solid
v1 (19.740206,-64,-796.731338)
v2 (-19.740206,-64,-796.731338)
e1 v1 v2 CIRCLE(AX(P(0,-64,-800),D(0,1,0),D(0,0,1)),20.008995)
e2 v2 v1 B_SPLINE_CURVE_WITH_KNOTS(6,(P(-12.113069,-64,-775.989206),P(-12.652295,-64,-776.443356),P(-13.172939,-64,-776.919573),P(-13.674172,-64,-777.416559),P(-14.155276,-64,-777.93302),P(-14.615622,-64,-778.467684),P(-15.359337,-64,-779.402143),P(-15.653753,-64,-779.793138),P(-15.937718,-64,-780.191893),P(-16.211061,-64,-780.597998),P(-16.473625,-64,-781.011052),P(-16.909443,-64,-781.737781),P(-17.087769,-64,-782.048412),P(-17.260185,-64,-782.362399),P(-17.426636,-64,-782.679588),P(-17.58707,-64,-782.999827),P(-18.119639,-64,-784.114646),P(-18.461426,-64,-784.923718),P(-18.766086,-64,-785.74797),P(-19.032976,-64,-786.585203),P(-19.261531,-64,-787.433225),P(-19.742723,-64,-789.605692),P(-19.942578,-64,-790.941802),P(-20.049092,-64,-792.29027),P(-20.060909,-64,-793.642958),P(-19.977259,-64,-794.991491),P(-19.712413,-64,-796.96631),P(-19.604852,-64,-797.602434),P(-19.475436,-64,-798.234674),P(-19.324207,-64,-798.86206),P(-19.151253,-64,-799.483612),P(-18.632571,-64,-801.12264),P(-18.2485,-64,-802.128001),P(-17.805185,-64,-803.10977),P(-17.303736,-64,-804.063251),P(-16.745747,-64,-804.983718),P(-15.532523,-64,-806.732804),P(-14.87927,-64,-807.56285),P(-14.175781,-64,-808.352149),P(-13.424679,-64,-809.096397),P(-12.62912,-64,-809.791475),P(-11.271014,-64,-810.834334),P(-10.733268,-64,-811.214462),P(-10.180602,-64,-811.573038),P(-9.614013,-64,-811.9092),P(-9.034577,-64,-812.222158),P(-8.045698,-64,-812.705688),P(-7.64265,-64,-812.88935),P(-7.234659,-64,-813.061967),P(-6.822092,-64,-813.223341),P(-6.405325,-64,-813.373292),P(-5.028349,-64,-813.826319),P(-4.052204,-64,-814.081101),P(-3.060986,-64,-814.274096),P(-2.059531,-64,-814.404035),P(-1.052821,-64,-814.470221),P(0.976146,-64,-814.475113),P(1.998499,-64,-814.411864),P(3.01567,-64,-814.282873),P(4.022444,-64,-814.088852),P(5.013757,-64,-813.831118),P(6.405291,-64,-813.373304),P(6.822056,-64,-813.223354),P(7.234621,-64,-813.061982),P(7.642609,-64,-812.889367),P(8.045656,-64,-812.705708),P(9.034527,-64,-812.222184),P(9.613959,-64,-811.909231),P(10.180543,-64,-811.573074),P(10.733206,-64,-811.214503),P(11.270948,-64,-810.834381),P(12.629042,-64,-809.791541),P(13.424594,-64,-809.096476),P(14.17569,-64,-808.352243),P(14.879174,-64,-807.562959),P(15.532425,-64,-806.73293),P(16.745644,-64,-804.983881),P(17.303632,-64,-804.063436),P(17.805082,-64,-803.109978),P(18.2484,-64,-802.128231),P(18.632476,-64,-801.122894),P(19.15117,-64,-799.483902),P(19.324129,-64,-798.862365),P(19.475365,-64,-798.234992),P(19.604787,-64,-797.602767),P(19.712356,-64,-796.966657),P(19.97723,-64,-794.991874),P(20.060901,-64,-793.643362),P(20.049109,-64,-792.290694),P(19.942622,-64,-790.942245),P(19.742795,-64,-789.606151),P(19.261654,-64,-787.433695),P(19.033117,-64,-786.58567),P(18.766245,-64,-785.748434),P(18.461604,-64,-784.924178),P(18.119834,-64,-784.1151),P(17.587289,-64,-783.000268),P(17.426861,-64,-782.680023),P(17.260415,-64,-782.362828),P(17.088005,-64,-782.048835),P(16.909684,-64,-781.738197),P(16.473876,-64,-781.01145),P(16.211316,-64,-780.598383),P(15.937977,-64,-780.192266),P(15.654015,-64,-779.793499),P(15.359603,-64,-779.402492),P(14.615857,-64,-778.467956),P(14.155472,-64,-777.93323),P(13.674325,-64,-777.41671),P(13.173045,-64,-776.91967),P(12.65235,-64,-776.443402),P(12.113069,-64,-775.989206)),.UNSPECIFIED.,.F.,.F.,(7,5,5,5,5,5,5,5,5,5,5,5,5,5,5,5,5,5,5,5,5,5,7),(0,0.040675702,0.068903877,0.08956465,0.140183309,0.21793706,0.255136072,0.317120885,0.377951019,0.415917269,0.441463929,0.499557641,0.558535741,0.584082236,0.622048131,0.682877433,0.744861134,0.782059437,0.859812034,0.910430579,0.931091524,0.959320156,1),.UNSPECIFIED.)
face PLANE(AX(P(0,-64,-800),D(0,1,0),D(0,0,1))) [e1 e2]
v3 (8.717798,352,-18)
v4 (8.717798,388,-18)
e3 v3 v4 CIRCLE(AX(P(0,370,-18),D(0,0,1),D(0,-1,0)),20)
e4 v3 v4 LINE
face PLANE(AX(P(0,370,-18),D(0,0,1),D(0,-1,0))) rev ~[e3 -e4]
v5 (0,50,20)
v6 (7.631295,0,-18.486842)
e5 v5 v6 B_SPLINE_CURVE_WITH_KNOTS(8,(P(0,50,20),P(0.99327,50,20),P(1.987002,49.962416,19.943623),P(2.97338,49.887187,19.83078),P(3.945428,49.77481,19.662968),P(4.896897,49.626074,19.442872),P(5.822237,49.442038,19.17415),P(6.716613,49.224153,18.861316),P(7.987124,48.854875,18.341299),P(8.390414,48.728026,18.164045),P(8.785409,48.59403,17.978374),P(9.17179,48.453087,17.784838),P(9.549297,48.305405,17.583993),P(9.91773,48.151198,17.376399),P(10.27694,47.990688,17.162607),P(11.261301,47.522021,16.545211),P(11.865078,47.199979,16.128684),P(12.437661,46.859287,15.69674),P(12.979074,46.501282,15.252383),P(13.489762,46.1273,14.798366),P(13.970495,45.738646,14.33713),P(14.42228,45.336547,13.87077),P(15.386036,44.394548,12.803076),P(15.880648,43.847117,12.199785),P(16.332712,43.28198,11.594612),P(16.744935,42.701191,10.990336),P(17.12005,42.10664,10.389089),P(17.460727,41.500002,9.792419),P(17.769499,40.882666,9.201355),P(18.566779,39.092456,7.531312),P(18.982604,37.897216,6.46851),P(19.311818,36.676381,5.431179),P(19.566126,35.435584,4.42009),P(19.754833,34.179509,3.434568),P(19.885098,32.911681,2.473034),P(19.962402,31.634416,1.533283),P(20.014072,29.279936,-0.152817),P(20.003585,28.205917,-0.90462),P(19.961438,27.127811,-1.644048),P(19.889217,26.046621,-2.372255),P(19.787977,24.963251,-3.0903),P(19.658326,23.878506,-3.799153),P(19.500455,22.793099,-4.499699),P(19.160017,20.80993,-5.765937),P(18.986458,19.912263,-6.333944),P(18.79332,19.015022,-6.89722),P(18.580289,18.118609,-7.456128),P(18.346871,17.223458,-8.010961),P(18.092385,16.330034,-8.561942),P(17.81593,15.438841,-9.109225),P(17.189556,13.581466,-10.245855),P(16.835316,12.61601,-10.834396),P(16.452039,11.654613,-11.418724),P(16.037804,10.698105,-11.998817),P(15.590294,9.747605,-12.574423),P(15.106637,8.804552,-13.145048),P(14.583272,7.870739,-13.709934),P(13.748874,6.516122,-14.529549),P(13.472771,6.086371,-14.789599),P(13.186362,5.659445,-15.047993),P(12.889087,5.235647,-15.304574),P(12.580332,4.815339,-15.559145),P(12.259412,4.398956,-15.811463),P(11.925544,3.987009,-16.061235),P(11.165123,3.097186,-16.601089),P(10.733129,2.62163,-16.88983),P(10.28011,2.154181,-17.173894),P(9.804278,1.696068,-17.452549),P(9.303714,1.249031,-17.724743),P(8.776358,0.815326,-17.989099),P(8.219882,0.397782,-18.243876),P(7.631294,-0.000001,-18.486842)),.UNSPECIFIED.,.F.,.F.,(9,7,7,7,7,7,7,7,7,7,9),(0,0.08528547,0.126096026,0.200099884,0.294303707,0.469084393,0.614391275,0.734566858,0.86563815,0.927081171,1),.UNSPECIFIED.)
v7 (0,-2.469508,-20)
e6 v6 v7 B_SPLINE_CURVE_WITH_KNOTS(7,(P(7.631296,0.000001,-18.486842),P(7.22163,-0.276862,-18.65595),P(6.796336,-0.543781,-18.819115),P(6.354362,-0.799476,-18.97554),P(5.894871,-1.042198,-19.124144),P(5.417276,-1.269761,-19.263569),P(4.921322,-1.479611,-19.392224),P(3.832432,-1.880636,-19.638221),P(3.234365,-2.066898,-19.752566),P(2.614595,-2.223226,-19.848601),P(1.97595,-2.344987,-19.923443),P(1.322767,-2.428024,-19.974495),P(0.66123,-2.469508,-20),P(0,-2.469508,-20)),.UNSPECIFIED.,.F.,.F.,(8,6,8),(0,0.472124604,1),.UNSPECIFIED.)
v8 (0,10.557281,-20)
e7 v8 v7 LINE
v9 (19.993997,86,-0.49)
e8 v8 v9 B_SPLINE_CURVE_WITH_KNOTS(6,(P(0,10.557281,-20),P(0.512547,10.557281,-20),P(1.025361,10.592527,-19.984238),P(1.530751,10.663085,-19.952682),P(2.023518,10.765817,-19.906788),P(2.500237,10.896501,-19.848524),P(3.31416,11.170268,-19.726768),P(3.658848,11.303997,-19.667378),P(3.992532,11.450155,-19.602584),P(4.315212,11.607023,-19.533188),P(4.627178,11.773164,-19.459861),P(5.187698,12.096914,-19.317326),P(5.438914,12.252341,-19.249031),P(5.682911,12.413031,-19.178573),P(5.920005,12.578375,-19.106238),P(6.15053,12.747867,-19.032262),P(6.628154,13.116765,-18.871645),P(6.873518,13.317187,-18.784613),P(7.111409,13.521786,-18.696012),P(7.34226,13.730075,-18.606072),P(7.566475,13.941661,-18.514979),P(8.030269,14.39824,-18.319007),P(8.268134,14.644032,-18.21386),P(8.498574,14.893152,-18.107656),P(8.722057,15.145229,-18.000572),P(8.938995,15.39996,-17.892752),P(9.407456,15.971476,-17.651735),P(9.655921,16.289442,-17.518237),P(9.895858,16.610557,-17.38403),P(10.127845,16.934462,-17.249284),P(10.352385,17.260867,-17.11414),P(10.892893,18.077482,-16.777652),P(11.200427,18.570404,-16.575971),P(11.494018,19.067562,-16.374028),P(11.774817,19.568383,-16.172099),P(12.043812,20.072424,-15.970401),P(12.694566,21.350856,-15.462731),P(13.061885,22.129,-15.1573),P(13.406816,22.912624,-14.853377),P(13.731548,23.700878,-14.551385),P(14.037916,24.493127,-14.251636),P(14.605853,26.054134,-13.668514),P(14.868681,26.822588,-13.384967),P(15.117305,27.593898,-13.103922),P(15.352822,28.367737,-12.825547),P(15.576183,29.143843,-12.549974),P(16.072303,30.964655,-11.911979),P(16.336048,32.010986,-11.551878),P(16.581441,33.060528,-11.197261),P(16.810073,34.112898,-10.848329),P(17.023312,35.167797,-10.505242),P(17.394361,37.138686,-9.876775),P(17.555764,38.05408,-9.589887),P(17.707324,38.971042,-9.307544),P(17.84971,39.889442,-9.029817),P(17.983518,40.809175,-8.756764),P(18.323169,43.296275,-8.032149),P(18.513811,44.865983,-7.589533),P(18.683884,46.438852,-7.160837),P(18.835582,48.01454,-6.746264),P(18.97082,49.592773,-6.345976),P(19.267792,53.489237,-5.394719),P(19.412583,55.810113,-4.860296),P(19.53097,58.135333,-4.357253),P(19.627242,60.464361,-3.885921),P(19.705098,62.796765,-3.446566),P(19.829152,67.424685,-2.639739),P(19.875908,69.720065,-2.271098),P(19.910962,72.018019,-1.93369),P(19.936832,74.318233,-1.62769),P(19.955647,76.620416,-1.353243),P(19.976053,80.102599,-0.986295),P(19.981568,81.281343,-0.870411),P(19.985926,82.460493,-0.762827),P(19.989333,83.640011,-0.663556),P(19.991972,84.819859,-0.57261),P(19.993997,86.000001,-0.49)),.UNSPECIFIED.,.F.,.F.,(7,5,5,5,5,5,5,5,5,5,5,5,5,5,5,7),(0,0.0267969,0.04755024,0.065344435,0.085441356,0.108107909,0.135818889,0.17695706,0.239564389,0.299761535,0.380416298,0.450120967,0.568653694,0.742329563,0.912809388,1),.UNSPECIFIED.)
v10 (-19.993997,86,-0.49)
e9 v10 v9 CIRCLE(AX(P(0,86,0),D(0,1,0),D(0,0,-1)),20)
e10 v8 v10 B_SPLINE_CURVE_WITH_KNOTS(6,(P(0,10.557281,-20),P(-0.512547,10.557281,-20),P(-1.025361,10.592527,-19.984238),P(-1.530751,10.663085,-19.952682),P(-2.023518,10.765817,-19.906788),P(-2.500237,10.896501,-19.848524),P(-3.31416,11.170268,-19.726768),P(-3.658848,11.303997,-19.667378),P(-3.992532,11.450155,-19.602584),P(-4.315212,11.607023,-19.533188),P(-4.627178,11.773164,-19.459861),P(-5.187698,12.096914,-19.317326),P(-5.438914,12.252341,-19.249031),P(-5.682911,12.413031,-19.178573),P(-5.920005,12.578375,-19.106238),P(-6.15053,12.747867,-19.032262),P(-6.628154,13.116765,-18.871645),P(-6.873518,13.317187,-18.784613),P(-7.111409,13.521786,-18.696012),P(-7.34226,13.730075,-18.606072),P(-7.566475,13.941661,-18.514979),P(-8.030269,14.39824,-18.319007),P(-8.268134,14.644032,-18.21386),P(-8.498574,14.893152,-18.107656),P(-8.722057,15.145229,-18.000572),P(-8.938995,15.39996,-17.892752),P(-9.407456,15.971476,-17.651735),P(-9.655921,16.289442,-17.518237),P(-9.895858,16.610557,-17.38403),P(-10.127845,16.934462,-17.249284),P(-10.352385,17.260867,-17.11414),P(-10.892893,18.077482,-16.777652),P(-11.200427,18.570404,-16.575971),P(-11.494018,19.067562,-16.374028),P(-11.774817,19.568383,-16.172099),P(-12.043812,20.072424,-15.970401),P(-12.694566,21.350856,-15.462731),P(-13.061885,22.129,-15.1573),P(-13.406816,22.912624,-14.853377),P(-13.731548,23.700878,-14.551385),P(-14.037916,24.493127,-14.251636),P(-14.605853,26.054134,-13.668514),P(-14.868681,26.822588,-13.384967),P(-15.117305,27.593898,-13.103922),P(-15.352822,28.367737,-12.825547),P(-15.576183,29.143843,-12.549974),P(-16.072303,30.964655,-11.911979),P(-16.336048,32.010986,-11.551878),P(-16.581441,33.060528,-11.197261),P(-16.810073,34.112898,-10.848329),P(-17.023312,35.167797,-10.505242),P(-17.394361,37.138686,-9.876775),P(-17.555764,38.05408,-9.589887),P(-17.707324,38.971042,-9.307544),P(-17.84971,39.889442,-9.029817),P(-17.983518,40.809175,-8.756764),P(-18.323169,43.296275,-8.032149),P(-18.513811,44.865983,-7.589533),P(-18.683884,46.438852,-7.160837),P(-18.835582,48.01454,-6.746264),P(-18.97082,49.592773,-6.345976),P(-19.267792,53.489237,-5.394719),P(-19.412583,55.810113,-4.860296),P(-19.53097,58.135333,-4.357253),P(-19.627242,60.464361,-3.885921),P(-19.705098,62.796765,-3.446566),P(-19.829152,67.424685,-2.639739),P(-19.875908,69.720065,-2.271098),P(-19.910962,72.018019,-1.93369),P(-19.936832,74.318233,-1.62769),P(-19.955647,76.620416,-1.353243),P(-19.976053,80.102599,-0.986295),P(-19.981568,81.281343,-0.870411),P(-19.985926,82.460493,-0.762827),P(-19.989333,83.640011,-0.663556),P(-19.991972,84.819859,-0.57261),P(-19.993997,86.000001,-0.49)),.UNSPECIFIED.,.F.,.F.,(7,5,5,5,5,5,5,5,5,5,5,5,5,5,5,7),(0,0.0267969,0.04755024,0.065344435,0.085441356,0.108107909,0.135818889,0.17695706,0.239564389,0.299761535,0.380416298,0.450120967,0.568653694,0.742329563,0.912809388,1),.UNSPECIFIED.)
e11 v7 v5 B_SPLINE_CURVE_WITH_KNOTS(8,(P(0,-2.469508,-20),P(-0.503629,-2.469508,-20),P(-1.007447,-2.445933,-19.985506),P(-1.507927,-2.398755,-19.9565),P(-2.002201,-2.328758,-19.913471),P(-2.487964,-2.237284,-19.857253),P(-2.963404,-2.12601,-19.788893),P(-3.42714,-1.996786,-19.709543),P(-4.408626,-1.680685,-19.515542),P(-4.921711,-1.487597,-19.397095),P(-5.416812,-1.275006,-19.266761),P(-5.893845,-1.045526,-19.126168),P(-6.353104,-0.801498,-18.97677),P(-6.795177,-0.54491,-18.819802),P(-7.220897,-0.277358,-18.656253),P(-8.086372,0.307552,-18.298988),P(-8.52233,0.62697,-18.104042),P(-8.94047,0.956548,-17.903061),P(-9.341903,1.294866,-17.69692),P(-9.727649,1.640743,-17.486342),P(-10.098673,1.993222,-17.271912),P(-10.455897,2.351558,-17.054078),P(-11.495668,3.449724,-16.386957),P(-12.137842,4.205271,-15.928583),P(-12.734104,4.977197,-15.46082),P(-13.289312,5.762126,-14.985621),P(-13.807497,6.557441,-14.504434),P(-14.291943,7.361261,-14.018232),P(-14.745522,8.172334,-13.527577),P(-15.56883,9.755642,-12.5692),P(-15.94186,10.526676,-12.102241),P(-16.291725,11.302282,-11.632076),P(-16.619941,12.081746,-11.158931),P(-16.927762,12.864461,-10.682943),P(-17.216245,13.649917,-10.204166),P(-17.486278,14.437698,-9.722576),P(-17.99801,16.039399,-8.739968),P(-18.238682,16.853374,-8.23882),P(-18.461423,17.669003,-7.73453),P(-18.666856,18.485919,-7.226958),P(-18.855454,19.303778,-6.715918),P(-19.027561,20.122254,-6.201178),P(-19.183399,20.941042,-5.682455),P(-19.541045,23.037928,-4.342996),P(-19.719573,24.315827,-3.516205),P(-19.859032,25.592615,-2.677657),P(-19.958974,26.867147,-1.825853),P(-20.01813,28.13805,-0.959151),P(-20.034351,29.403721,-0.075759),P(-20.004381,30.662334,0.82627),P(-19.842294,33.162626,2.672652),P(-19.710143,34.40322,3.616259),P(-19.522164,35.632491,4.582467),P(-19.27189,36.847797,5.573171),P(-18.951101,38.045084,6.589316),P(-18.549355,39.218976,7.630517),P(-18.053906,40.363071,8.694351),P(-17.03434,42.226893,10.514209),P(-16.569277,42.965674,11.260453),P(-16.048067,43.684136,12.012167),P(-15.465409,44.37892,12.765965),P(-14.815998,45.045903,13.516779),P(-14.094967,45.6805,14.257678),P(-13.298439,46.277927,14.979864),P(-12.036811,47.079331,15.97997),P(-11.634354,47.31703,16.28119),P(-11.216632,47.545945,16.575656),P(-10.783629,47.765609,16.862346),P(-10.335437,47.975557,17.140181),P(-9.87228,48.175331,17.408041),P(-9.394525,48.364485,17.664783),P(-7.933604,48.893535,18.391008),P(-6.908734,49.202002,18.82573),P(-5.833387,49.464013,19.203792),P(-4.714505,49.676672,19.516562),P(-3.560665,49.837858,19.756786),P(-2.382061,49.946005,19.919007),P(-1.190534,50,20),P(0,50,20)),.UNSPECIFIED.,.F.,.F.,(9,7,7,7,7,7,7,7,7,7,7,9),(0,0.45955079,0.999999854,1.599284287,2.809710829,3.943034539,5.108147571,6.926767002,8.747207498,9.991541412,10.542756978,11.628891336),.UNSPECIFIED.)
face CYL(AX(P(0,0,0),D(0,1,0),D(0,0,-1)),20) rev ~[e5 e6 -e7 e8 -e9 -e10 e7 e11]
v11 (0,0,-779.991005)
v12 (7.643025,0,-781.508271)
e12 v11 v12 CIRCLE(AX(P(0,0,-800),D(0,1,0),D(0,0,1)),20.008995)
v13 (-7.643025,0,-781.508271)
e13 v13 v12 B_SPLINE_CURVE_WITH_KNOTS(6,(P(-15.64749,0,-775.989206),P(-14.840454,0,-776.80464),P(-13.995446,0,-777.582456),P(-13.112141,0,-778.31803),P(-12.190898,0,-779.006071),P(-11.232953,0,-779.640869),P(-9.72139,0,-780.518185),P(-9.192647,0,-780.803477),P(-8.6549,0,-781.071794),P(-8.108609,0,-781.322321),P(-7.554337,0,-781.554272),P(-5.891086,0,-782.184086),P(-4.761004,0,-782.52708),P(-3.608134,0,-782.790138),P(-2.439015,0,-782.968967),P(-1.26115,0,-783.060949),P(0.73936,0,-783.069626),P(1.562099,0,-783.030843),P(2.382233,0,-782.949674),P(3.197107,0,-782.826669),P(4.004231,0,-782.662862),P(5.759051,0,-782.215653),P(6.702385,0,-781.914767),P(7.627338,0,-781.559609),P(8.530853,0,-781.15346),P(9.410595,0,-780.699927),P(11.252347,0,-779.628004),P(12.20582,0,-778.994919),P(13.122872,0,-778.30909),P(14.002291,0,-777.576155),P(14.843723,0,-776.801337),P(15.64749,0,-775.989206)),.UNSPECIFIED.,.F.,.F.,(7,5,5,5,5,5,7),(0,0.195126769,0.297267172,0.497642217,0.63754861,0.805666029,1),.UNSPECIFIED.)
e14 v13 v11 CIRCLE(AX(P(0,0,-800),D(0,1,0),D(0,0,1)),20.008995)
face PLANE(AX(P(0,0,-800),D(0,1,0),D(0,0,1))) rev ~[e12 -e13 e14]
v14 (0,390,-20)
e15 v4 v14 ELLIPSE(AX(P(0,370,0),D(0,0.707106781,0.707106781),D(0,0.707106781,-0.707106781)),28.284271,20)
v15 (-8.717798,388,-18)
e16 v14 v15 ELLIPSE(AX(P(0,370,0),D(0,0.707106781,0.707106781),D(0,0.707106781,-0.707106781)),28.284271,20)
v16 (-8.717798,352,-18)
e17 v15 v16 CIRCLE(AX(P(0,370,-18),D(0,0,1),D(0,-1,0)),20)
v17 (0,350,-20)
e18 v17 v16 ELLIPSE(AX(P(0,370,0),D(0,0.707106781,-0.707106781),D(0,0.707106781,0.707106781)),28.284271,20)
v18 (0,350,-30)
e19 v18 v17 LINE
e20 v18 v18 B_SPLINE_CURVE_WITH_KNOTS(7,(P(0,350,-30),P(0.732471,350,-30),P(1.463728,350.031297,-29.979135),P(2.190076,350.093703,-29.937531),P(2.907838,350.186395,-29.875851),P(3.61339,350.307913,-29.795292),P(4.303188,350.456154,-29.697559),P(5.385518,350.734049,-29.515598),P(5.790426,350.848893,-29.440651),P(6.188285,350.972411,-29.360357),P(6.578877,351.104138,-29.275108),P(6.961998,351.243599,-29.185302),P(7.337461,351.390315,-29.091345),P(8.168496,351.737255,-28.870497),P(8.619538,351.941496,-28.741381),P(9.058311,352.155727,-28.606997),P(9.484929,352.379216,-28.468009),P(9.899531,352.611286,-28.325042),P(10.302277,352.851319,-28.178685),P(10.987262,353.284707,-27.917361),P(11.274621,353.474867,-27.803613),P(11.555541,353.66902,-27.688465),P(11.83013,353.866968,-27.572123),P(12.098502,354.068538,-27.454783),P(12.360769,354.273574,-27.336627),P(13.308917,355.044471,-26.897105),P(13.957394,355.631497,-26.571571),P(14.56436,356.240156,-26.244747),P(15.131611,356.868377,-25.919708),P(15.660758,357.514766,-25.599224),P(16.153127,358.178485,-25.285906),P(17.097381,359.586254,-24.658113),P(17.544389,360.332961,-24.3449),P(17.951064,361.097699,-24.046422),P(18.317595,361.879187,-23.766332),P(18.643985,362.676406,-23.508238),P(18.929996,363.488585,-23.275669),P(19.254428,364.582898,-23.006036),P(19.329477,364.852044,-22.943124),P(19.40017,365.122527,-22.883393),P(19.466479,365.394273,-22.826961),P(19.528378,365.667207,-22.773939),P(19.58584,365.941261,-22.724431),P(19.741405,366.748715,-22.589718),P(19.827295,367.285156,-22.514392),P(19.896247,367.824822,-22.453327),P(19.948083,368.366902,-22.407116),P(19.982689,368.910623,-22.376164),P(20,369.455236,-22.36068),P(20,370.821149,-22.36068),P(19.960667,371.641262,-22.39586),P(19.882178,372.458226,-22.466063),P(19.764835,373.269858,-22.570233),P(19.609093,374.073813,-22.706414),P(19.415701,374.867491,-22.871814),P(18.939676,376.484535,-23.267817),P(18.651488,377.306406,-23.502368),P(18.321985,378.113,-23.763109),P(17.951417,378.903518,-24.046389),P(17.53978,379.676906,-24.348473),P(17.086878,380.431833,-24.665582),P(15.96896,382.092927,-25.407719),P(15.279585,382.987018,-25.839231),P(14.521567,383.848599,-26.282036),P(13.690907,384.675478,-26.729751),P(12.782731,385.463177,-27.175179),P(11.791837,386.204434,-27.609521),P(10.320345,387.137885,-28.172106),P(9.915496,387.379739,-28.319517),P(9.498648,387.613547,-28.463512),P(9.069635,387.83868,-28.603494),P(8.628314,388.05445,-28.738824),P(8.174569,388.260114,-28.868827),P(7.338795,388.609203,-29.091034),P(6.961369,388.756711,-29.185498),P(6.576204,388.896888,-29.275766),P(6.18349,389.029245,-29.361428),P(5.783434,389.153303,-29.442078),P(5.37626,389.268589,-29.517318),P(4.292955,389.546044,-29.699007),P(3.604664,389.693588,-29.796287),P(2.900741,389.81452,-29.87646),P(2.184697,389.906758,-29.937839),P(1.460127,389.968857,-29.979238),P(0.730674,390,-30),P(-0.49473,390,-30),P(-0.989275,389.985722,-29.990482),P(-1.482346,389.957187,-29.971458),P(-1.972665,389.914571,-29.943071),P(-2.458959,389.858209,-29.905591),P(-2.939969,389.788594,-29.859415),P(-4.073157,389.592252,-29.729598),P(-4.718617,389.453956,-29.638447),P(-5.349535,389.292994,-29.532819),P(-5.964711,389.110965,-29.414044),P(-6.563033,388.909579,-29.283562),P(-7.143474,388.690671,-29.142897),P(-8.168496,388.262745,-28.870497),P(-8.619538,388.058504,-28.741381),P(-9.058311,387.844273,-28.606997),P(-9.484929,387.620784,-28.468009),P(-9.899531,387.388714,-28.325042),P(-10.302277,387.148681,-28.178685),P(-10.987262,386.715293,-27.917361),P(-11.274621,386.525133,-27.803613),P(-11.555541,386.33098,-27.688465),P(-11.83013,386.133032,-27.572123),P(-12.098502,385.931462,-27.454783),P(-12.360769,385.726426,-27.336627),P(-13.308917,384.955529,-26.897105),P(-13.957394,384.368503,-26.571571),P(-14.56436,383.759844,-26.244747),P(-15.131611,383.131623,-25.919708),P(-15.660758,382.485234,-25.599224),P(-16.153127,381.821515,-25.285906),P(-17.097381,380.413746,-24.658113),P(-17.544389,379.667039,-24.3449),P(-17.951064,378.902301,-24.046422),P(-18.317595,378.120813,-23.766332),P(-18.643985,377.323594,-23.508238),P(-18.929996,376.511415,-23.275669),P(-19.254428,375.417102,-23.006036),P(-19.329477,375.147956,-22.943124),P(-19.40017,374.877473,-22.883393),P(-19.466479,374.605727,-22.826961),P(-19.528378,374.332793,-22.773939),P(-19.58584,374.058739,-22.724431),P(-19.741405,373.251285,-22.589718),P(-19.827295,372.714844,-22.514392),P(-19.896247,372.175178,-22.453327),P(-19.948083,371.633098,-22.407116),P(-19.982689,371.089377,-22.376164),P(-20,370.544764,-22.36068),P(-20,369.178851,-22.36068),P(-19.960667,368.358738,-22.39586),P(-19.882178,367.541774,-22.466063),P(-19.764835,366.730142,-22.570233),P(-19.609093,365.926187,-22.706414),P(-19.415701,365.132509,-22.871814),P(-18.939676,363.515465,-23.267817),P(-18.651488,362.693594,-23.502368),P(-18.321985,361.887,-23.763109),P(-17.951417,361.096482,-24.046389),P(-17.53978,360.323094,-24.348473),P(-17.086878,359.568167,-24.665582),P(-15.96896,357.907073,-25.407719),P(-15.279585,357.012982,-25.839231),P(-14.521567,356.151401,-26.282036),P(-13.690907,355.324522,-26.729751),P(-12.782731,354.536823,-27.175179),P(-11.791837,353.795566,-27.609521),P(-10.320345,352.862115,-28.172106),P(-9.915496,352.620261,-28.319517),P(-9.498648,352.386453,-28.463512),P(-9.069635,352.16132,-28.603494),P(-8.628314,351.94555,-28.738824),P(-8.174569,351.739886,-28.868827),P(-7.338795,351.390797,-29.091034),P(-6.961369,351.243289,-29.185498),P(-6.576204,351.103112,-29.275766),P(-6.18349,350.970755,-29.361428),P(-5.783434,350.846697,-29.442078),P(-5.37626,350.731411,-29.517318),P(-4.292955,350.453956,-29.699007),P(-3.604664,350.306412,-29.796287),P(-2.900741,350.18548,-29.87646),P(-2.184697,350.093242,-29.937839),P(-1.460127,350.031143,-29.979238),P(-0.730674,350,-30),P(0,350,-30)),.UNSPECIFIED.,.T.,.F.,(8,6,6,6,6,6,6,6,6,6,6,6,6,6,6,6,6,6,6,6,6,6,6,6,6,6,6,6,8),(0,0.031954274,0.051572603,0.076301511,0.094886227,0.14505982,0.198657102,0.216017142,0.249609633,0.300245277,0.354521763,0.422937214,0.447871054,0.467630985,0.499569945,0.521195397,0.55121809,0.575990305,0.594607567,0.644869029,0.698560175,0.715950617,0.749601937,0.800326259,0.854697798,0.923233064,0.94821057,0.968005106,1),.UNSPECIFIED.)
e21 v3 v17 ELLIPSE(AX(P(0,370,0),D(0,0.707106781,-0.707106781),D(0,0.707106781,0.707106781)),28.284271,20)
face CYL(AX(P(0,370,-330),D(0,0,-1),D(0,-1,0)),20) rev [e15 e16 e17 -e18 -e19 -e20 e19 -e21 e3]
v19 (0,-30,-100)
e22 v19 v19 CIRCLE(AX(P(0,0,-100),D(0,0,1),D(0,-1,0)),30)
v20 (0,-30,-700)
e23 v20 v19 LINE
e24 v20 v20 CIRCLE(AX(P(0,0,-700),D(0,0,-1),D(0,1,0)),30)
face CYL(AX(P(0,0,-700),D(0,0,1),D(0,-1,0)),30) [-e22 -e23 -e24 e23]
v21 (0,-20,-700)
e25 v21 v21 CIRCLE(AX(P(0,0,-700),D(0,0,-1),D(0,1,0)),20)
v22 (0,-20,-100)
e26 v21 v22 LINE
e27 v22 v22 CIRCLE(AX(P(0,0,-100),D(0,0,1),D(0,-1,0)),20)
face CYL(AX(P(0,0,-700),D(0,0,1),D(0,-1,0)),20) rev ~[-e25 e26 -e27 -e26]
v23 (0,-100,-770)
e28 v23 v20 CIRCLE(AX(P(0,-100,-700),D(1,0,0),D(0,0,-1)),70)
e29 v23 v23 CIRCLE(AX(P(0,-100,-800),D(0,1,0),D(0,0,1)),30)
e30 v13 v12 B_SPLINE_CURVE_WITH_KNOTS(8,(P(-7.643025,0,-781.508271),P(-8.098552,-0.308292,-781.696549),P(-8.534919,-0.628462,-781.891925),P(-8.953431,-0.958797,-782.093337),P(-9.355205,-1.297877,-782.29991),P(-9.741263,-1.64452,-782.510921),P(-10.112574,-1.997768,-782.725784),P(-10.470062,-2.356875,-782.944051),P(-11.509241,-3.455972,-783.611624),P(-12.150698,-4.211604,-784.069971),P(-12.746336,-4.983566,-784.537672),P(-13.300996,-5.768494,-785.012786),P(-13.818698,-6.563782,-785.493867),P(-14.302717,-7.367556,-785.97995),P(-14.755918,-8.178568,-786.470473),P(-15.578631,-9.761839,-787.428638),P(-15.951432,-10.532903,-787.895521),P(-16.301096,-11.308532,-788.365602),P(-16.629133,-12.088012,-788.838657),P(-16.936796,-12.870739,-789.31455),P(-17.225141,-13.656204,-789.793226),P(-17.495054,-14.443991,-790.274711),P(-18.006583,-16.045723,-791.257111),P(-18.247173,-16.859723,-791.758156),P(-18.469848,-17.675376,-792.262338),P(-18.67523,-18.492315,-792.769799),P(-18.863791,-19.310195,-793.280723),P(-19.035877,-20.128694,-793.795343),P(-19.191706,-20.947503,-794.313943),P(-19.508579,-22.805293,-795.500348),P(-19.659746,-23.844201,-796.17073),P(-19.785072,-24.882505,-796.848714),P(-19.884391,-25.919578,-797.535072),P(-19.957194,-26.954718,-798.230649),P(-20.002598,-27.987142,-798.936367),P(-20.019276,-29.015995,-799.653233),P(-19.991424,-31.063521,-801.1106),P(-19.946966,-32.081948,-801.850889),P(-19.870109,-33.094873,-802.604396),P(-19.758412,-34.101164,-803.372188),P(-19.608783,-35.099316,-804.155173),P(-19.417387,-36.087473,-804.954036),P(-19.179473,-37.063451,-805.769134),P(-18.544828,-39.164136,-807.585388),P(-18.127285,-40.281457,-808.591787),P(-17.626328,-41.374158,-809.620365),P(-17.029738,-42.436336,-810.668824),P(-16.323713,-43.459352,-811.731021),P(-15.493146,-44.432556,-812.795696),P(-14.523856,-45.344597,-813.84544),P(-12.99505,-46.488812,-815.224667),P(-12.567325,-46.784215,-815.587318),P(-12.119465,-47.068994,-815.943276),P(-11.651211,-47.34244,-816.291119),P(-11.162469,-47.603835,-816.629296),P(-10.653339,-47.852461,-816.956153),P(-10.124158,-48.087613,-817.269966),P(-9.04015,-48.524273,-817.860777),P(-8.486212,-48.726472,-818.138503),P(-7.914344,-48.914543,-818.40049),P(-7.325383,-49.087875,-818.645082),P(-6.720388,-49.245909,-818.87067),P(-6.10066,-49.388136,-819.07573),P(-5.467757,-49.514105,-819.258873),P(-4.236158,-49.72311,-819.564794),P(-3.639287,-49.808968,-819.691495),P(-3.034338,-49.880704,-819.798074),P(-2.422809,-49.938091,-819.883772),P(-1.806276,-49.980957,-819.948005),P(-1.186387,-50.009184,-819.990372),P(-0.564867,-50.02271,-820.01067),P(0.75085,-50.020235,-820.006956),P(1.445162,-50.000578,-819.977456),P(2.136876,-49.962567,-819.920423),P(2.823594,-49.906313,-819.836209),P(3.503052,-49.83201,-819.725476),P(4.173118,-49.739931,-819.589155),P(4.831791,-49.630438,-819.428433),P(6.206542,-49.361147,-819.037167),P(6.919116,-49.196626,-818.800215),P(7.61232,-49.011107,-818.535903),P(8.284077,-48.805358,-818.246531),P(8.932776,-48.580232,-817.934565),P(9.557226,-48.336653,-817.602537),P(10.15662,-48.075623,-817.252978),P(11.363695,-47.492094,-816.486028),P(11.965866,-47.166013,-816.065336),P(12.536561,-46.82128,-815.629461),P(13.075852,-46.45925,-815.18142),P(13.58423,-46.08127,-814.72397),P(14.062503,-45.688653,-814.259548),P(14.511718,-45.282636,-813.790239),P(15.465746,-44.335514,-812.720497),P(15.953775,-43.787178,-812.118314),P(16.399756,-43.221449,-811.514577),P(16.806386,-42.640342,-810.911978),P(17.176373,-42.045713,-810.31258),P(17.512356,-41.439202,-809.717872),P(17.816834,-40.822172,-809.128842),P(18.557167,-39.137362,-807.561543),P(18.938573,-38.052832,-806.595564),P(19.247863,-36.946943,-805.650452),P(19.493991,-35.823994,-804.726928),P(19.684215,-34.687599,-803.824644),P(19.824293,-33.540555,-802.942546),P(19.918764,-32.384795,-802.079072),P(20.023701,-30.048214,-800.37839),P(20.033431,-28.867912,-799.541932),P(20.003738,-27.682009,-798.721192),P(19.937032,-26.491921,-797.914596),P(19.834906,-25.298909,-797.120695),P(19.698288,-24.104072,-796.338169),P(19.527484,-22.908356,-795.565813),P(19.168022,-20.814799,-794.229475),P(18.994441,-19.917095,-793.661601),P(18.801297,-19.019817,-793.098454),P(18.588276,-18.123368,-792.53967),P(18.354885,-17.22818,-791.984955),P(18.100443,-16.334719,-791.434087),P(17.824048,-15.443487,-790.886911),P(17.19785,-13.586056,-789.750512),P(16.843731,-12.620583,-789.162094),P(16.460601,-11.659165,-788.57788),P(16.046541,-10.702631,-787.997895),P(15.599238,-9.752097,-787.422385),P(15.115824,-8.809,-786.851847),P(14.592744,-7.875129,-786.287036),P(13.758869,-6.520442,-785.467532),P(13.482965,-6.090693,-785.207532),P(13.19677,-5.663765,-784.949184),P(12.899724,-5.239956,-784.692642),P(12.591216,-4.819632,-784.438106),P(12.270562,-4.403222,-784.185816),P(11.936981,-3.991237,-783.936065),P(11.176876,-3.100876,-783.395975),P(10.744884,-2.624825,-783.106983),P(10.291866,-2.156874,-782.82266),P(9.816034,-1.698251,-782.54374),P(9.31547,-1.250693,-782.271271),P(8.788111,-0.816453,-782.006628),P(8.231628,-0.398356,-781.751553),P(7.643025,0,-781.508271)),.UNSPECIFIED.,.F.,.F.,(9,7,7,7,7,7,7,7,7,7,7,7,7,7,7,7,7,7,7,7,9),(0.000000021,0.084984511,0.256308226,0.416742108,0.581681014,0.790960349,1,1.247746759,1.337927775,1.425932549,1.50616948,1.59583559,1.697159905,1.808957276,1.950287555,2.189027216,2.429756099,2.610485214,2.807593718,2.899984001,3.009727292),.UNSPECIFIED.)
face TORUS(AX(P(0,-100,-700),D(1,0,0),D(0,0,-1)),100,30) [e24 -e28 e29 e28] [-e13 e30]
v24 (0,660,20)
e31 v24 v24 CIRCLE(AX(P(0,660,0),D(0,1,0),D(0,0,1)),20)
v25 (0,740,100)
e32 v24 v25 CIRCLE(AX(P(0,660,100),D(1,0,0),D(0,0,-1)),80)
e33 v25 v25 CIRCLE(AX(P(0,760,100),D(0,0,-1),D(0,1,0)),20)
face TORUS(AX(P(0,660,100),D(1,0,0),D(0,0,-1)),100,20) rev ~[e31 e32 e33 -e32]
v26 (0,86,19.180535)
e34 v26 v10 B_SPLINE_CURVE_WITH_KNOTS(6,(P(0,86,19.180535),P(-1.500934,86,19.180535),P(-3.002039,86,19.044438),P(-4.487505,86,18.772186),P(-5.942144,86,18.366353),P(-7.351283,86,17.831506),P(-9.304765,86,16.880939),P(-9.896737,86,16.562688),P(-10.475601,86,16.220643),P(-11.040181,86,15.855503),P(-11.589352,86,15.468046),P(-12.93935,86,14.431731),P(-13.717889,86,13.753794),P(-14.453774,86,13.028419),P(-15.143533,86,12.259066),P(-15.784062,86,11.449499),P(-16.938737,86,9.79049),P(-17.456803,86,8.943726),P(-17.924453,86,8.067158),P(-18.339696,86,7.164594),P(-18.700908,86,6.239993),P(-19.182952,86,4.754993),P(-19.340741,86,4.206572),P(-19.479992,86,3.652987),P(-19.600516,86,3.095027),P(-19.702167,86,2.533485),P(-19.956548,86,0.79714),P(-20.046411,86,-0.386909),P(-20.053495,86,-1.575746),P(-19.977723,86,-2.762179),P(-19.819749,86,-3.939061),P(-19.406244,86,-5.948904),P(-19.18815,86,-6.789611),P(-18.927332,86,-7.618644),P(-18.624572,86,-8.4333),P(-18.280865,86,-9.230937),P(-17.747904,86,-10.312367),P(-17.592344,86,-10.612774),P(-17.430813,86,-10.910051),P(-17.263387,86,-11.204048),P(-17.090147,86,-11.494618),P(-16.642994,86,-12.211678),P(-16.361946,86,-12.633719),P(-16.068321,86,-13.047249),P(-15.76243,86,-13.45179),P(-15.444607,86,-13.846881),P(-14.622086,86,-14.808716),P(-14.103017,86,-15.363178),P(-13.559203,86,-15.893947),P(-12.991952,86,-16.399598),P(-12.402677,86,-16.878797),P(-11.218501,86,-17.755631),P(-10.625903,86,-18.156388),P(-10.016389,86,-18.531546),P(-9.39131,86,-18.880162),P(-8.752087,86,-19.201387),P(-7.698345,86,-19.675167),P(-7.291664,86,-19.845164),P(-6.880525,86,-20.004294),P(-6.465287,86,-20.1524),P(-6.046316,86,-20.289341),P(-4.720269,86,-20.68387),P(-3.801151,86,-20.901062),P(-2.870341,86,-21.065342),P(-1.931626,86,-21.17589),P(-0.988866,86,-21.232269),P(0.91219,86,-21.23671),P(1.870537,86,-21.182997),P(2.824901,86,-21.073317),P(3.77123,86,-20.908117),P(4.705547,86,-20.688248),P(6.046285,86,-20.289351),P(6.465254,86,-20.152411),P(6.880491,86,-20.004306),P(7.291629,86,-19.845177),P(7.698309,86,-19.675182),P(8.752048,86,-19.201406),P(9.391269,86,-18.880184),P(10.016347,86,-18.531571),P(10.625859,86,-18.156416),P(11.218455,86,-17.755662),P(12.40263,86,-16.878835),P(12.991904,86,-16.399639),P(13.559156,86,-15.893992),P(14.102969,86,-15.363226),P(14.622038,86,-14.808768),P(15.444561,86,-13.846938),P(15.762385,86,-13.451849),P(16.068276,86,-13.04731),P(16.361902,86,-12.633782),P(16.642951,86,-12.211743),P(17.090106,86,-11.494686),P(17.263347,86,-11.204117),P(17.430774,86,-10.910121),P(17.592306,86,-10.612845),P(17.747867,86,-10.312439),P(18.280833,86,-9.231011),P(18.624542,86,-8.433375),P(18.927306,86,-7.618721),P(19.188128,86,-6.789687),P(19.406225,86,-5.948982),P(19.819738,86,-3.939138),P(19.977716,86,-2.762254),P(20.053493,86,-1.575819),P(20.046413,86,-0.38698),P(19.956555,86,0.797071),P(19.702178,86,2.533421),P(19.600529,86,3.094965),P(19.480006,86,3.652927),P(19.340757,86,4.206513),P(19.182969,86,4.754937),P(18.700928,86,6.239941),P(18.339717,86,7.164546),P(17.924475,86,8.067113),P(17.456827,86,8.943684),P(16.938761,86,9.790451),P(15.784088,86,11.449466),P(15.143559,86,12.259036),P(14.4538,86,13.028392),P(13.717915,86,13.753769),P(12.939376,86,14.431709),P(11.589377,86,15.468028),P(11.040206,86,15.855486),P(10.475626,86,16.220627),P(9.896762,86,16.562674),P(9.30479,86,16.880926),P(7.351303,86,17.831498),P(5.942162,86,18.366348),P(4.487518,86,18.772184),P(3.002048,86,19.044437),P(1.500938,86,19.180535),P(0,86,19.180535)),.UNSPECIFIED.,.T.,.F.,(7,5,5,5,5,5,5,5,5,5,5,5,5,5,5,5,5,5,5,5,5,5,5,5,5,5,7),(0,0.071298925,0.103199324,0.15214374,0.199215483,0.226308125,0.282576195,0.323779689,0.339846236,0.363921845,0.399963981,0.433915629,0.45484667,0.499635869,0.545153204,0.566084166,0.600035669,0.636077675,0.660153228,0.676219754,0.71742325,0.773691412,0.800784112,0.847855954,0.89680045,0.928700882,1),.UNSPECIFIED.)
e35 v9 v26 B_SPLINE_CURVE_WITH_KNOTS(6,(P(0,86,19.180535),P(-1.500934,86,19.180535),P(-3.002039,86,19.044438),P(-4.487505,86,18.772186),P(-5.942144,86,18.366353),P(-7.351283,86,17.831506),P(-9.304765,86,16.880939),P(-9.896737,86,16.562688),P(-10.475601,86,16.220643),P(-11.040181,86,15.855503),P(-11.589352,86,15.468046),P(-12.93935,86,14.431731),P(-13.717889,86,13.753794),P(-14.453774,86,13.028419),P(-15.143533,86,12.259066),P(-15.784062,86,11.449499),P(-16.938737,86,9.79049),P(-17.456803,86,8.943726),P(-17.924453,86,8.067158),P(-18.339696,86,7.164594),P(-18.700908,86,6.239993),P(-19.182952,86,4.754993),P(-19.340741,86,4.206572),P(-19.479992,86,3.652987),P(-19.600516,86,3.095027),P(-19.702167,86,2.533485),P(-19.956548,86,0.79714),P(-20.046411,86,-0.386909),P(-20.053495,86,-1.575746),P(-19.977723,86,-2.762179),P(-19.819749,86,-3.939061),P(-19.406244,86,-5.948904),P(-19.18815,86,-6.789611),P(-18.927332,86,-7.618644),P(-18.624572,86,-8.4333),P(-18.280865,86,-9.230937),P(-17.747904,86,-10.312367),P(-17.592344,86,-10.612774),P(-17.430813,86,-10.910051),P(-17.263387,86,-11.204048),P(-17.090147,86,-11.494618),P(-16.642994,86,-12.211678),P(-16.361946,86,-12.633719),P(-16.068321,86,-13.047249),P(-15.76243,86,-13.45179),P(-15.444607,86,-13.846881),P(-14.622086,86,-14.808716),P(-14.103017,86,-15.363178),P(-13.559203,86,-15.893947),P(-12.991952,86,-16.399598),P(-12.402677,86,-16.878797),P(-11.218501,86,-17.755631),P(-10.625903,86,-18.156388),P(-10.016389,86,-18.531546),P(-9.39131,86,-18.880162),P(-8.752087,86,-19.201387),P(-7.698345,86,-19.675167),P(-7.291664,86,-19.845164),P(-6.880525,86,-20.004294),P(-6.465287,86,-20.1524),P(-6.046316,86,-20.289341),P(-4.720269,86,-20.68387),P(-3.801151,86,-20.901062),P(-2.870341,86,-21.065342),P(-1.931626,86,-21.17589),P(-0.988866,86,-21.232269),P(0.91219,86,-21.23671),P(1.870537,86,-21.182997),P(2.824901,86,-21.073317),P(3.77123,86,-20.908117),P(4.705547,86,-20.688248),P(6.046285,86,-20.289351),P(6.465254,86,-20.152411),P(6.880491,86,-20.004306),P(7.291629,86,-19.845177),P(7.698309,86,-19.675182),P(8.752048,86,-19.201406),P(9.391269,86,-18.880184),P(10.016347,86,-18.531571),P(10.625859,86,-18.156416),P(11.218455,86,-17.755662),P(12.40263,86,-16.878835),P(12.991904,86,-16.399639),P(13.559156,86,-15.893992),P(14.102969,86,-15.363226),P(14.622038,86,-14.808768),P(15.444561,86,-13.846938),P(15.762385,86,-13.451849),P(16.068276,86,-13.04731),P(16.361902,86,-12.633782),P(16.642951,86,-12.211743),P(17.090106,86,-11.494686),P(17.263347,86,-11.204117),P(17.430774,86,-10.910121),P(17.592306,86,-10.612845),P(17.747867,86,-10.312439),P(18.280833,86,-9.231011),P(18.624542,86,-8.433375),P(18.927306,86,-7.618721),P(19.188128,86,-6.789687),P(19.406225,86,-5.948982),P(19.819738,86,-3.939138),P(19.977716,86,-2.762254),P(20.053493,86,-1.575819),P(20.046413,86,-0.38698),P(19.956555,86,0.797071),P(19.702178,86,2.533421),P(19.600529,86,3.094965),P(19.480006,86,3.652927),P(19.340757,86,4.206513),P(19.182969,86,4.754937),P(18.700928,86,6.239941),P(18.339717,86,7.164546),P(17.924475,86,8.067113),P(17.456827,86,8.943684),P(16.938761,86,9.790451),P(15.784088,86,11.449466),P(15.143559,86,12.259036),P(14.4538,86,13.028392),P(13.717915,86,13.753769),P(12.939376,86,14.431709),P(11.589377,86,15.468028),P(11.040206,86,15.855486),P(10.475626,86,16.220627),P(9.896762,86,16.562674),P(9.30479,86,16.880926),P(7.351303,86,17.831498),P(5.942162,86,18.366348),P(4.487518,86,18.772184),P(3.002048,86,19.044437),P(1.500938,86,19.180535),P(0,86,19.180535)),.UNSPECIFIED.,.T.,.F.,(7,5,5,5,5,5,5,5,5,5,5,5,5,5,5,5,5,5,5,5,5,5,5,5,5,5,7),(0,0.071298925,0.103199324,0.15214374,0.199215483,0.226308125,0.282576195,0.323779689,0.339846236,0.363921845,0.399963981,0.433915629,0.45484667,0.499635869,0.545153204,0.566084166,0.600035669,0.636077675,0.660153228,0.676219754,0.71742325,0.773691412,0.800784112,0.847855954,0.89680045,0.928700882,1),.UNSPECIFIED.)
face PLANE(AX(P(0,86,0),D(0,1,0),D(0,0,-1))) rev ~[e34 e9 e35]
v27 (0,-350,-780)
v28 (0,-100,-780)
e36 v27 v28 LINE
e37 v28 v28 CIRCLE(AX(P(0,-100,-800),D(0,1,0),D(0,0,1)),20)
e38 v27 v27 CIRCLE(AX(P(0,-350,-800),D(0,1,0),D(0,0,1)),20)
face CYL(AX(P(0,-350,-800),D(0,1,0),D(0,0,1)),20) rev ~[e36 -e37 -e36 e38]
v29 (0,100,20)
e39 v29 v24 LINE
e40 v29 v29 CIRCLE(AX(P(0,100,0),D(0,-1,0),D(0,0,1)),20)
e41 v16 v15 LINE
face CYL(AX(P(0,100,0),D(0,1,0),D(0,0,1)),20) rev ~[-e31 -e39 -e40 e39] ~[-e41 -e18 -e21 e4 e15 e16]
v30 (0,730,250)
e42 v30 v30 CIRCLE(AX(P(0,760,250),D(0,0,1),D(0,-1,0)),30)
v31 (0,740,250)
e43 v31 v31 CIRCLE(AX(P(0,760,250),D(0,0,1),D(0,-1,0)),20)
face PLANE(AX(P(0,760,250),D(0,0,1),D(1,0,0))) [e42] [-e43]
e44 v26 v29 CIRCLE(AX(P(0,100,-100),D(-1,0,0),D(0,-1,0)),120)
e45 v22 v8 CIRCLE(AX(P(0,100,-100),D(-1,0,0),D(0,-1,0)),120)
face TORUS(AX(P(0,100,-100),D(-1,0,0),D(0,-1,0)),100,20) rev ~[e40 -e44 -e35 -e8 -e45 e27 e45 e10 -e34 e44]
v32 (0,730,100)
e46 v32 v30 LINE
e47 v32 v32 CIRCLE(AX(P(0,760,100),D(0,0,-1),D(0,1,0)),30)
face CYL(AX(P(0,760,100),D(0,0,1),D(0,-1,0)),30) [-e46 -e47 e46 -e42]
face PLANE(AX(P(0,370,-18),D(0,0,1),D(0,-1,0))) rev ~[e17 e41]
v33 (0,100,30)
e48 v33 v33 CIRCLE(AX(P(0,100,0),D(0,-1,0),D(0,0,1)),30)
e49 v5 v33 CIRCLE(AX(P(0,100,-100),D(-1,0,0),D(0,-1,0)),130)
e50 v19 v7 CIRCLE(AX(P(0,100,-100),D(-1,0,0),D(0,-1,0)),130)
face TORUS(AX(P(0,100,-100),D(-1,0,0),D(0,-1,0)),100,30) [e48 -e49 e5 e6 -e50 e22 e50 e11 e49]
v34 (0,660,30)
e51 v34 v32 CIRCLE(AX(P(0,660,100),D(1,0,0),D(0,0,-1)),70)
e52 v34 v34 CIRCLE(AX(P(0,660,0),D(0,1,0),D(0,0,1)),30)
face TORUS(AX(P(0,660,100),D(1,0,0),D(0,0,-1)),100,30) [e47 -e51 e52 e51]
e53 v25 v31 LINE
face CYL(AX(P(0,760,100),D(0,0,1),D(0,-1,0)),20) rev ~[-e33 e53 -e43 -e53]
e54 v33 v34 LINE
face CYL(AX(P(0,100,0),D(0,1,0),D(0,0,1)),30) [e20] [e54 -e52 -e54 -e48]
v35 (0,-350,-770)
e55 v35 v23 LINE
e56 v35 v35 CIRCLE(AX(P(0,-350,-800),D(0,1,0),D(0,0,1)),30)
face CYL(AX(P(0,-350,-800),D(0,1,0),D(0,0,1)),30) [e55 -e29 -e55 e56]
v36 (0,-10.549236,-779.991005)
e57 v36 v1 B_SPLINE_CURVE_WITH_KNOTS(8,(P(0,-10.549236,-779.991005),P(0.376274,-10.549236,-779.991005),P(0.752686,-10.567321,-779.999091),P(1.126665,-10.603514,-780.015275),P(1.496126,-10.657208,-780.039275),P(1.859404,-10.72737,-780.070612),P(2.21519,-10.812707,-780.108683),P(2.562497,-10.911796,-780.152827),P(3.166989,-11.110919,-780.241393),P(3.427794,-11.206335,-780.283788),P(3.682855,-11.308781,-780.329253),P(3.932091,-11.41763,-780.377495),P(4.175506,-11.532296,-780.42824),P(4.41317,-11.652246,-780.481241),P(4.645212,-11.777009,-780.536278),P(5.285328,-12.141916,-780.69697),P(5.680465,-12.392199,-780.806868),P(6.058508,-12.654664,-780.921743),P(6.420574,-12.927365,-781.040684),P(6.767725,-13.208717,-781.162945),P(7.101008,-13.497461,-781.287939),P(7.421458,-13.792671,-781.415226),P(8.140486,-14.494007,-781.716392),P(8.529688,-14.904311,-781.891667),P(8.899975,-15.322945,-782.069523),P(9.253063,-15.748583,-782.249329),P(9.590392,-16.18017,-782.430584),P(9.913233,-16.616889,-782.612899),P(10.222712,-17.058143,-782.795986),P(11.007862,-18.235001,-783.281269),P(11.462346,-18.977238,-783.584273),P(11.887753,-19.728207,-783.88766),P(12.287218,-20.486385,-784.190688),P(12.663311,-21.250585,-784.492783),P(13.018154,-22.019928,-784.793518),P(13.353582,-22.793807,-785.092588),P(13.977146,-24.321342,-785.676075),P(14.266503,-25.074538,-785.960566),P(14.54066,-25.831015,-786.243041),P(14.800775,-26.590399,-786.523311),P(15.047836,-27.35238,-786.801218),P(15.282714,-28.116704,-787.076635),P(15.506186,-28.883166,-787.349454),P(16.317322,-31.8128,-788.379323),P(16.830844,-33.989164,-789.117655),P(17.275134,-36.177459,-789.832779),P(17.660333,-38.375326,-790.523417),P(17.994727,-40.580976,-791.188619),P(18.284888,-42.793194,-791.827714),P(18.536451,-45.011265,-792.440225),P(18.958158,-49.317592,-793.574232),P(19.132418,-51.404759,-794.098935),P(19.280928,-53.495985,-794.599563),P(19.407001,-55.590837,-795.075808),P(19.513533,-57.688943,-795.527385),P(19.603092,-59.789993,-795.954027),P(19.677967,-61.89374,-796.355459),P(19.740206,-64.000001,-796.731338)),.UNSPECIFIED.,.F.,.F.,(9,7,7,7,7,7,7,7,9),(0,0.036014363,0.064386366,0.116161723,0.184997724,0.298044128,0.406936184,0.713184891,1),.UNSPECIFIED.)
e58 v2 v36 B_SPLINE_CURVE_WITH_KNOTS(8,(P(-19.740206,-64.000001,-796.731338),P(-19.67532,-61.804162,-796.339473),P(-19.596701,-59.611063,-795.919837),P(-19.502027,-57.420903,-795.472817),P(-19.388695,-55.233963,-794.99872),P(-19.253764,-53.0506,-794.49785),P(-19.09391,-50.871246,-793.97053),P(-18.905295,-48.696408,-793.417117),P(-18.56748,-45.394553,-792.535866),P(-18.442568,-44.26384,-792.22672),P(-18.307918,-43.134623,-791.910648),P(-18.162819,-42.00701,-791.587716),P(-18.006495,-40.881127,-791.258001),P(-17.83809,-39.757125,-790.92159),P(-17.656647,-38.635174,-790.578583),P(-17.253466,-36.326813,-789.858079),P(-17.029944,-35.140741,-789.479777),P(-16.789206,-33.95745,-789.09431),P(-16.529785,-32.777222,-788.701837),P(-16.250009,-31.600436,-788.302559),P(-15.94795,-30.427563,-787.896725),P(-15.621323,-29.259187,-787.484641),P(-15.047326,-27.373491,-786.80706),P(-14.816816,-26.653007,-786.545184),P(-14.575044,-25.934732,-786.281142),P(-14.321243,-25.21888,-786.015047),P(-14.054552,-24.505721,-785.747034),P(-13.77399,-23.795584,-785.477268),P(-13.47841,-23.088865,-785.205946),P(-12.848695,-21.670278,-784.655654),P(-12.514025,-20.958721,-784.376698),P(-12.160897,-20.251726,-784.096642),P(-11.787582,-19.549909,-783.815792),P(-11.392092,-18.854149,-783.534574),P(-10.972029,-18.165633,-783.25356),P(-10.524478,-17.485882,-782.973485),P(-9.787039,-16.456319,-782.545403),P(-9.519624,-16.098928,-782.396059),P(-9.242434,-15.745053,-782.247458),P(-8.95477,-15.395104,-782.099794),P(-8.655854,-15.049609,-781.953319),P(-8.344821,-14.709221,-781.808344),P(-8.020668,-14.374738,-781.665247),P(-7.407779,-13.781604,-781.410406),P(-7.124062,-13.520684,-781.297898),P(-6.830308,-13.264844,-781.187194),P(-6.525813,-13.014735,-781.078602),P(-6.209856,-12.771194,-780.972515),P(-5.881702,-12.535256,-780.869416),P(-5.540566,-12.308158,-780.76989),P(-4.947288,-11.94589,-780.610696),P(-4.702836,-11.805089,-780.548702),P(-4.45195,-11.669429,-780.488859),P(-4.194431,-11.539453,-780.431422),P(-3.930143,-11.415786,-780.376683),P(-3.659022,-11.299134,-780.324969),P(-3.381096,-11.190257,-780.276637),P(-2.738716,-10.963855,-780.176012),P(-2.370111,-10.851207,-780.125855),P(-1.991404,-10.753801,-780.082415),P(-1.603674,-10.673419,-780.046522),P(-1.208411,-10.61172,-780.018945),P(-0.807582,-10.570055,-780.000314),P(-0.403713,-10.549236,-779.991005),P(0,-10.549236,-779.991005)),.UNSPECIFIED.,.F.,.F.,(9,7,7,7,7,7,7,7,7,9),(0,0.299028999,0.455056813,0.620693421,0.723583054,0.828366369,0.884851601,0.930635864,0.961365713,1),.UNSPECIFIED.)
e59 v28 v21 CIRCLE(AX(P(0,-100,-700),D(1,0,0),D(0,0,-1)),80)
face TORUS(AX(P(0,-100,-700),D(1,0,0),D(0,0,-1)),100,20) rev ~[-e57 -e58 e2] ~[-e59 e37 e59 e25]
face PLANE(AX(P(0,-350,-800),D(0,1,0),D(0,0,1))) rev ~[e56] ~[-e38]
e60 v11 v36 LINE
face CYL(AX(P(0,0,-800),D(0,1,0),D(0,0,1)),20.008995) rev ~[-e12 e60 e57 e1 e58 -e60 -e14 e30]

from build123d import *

# Parameters (mm, degrees)
SWEEP_THIN2_PROFILE_R   = 30
SWEEP_THIN2_PROFILE_R_2 = 20
CUT_EXTRUDE1_DEPTH      = 86
CUT_EXTRUDE1_DEPTH_BACK = 10
SKETCH25_R              = 20
CUT_EXTRUDE2_DEPTH      = 312
CUT_EXTRUDE2_DEPTH_BACK = 10
SKETCH28_R              = 20
SKETCH29_R              = 20.008995332
CUT_EXTRUDE4_DEPTH      = 64


with BuildPart() as part:
    # Sweep-Thin2: sweep along a path in Sketch1
    with BuildLine(Plane(origin=(0, 0, 0), x_dir=(0, 0, -1), z_dir=(1, 0, 0))) as sweep_thin2_path:
        Line((800, -350), (800, -100))
        ThreePointArc((800, -100), (770.710678119, -29.289321881), (700, 0))
        Line((700, 0), (100, 0))
        ThreePointArc((100, 0), (29.289321881, 29.289321881), (0, 100))
        Line((0, 100), (0, 660))
        ThreePointArc((0, 660), (-29.289321881, 730.710678119), (-100, 760))
        Line((-100, 760), (-250, 760))
    # Sweep-Thin2 profile (on start of the path) → Sweep-Thin2 (sweep)
    with BuildSketch(Plane(origin=(0, -350, -800), x_dir=(0, 0, 1), z_dir=(0, 1, 0))):
        Circle(SWEEP_THIN2_PROFILE_R)
        Circle(SWEEP_THIN2_PROFILE_R_2, mode=Mode.SUBTRACT)
    sweep(path=sweep_thin2_path.line)

    # Sketch25 → Cut-Extrude1 (cut, two sides: drawn at the far end of the back side and taken through both)
    with BuildSketch(Plane(origin=(0, 0, 0), x_dir=(1, 0, 0), z_dir=(0, 1, 0)).offset(-CUT_EXTRUDE1_DEPTH_BACK)):
        Circle(SKETCH25_R)
    extrude(amount=CUT_EXTRUDE1_DEPTH + CUT_EXTRUDE1_DEPTH_BACK, mode=Mode.SUBTRACT)

    # Sketch28 → Cut-Extrude2 (cut, two sides: drawn at the far end of the back side and taken through both)
    with BuildSketch(Plane.XY.offset(-330).offset(-CUT_EXTRUDE2_DEPTH_BACK)):
        with Locations((0, 370)):
            Circle(SKETCH28_R)
    extrude(amount=CUT_EXTRUDE2_DEPTH + CUT_EXTRUDE2_DEPTH_BACK, mode=Mode.SUBTRACT)

    # Sketch29 → Cut-Extrude4 (cut)
    with BuildSketch(Plane(origin=(0, 0, 0), x_dir=(1, 0, 0), z_dir=(0, 1, 0))):
        with Locations((0, 800)):
            Circle(SKETCH29_R)
    extrude(amount=-CUT_EXTRUDE4_DEPTH, mode=Mode.SUBTRACT)


solid = part.part
